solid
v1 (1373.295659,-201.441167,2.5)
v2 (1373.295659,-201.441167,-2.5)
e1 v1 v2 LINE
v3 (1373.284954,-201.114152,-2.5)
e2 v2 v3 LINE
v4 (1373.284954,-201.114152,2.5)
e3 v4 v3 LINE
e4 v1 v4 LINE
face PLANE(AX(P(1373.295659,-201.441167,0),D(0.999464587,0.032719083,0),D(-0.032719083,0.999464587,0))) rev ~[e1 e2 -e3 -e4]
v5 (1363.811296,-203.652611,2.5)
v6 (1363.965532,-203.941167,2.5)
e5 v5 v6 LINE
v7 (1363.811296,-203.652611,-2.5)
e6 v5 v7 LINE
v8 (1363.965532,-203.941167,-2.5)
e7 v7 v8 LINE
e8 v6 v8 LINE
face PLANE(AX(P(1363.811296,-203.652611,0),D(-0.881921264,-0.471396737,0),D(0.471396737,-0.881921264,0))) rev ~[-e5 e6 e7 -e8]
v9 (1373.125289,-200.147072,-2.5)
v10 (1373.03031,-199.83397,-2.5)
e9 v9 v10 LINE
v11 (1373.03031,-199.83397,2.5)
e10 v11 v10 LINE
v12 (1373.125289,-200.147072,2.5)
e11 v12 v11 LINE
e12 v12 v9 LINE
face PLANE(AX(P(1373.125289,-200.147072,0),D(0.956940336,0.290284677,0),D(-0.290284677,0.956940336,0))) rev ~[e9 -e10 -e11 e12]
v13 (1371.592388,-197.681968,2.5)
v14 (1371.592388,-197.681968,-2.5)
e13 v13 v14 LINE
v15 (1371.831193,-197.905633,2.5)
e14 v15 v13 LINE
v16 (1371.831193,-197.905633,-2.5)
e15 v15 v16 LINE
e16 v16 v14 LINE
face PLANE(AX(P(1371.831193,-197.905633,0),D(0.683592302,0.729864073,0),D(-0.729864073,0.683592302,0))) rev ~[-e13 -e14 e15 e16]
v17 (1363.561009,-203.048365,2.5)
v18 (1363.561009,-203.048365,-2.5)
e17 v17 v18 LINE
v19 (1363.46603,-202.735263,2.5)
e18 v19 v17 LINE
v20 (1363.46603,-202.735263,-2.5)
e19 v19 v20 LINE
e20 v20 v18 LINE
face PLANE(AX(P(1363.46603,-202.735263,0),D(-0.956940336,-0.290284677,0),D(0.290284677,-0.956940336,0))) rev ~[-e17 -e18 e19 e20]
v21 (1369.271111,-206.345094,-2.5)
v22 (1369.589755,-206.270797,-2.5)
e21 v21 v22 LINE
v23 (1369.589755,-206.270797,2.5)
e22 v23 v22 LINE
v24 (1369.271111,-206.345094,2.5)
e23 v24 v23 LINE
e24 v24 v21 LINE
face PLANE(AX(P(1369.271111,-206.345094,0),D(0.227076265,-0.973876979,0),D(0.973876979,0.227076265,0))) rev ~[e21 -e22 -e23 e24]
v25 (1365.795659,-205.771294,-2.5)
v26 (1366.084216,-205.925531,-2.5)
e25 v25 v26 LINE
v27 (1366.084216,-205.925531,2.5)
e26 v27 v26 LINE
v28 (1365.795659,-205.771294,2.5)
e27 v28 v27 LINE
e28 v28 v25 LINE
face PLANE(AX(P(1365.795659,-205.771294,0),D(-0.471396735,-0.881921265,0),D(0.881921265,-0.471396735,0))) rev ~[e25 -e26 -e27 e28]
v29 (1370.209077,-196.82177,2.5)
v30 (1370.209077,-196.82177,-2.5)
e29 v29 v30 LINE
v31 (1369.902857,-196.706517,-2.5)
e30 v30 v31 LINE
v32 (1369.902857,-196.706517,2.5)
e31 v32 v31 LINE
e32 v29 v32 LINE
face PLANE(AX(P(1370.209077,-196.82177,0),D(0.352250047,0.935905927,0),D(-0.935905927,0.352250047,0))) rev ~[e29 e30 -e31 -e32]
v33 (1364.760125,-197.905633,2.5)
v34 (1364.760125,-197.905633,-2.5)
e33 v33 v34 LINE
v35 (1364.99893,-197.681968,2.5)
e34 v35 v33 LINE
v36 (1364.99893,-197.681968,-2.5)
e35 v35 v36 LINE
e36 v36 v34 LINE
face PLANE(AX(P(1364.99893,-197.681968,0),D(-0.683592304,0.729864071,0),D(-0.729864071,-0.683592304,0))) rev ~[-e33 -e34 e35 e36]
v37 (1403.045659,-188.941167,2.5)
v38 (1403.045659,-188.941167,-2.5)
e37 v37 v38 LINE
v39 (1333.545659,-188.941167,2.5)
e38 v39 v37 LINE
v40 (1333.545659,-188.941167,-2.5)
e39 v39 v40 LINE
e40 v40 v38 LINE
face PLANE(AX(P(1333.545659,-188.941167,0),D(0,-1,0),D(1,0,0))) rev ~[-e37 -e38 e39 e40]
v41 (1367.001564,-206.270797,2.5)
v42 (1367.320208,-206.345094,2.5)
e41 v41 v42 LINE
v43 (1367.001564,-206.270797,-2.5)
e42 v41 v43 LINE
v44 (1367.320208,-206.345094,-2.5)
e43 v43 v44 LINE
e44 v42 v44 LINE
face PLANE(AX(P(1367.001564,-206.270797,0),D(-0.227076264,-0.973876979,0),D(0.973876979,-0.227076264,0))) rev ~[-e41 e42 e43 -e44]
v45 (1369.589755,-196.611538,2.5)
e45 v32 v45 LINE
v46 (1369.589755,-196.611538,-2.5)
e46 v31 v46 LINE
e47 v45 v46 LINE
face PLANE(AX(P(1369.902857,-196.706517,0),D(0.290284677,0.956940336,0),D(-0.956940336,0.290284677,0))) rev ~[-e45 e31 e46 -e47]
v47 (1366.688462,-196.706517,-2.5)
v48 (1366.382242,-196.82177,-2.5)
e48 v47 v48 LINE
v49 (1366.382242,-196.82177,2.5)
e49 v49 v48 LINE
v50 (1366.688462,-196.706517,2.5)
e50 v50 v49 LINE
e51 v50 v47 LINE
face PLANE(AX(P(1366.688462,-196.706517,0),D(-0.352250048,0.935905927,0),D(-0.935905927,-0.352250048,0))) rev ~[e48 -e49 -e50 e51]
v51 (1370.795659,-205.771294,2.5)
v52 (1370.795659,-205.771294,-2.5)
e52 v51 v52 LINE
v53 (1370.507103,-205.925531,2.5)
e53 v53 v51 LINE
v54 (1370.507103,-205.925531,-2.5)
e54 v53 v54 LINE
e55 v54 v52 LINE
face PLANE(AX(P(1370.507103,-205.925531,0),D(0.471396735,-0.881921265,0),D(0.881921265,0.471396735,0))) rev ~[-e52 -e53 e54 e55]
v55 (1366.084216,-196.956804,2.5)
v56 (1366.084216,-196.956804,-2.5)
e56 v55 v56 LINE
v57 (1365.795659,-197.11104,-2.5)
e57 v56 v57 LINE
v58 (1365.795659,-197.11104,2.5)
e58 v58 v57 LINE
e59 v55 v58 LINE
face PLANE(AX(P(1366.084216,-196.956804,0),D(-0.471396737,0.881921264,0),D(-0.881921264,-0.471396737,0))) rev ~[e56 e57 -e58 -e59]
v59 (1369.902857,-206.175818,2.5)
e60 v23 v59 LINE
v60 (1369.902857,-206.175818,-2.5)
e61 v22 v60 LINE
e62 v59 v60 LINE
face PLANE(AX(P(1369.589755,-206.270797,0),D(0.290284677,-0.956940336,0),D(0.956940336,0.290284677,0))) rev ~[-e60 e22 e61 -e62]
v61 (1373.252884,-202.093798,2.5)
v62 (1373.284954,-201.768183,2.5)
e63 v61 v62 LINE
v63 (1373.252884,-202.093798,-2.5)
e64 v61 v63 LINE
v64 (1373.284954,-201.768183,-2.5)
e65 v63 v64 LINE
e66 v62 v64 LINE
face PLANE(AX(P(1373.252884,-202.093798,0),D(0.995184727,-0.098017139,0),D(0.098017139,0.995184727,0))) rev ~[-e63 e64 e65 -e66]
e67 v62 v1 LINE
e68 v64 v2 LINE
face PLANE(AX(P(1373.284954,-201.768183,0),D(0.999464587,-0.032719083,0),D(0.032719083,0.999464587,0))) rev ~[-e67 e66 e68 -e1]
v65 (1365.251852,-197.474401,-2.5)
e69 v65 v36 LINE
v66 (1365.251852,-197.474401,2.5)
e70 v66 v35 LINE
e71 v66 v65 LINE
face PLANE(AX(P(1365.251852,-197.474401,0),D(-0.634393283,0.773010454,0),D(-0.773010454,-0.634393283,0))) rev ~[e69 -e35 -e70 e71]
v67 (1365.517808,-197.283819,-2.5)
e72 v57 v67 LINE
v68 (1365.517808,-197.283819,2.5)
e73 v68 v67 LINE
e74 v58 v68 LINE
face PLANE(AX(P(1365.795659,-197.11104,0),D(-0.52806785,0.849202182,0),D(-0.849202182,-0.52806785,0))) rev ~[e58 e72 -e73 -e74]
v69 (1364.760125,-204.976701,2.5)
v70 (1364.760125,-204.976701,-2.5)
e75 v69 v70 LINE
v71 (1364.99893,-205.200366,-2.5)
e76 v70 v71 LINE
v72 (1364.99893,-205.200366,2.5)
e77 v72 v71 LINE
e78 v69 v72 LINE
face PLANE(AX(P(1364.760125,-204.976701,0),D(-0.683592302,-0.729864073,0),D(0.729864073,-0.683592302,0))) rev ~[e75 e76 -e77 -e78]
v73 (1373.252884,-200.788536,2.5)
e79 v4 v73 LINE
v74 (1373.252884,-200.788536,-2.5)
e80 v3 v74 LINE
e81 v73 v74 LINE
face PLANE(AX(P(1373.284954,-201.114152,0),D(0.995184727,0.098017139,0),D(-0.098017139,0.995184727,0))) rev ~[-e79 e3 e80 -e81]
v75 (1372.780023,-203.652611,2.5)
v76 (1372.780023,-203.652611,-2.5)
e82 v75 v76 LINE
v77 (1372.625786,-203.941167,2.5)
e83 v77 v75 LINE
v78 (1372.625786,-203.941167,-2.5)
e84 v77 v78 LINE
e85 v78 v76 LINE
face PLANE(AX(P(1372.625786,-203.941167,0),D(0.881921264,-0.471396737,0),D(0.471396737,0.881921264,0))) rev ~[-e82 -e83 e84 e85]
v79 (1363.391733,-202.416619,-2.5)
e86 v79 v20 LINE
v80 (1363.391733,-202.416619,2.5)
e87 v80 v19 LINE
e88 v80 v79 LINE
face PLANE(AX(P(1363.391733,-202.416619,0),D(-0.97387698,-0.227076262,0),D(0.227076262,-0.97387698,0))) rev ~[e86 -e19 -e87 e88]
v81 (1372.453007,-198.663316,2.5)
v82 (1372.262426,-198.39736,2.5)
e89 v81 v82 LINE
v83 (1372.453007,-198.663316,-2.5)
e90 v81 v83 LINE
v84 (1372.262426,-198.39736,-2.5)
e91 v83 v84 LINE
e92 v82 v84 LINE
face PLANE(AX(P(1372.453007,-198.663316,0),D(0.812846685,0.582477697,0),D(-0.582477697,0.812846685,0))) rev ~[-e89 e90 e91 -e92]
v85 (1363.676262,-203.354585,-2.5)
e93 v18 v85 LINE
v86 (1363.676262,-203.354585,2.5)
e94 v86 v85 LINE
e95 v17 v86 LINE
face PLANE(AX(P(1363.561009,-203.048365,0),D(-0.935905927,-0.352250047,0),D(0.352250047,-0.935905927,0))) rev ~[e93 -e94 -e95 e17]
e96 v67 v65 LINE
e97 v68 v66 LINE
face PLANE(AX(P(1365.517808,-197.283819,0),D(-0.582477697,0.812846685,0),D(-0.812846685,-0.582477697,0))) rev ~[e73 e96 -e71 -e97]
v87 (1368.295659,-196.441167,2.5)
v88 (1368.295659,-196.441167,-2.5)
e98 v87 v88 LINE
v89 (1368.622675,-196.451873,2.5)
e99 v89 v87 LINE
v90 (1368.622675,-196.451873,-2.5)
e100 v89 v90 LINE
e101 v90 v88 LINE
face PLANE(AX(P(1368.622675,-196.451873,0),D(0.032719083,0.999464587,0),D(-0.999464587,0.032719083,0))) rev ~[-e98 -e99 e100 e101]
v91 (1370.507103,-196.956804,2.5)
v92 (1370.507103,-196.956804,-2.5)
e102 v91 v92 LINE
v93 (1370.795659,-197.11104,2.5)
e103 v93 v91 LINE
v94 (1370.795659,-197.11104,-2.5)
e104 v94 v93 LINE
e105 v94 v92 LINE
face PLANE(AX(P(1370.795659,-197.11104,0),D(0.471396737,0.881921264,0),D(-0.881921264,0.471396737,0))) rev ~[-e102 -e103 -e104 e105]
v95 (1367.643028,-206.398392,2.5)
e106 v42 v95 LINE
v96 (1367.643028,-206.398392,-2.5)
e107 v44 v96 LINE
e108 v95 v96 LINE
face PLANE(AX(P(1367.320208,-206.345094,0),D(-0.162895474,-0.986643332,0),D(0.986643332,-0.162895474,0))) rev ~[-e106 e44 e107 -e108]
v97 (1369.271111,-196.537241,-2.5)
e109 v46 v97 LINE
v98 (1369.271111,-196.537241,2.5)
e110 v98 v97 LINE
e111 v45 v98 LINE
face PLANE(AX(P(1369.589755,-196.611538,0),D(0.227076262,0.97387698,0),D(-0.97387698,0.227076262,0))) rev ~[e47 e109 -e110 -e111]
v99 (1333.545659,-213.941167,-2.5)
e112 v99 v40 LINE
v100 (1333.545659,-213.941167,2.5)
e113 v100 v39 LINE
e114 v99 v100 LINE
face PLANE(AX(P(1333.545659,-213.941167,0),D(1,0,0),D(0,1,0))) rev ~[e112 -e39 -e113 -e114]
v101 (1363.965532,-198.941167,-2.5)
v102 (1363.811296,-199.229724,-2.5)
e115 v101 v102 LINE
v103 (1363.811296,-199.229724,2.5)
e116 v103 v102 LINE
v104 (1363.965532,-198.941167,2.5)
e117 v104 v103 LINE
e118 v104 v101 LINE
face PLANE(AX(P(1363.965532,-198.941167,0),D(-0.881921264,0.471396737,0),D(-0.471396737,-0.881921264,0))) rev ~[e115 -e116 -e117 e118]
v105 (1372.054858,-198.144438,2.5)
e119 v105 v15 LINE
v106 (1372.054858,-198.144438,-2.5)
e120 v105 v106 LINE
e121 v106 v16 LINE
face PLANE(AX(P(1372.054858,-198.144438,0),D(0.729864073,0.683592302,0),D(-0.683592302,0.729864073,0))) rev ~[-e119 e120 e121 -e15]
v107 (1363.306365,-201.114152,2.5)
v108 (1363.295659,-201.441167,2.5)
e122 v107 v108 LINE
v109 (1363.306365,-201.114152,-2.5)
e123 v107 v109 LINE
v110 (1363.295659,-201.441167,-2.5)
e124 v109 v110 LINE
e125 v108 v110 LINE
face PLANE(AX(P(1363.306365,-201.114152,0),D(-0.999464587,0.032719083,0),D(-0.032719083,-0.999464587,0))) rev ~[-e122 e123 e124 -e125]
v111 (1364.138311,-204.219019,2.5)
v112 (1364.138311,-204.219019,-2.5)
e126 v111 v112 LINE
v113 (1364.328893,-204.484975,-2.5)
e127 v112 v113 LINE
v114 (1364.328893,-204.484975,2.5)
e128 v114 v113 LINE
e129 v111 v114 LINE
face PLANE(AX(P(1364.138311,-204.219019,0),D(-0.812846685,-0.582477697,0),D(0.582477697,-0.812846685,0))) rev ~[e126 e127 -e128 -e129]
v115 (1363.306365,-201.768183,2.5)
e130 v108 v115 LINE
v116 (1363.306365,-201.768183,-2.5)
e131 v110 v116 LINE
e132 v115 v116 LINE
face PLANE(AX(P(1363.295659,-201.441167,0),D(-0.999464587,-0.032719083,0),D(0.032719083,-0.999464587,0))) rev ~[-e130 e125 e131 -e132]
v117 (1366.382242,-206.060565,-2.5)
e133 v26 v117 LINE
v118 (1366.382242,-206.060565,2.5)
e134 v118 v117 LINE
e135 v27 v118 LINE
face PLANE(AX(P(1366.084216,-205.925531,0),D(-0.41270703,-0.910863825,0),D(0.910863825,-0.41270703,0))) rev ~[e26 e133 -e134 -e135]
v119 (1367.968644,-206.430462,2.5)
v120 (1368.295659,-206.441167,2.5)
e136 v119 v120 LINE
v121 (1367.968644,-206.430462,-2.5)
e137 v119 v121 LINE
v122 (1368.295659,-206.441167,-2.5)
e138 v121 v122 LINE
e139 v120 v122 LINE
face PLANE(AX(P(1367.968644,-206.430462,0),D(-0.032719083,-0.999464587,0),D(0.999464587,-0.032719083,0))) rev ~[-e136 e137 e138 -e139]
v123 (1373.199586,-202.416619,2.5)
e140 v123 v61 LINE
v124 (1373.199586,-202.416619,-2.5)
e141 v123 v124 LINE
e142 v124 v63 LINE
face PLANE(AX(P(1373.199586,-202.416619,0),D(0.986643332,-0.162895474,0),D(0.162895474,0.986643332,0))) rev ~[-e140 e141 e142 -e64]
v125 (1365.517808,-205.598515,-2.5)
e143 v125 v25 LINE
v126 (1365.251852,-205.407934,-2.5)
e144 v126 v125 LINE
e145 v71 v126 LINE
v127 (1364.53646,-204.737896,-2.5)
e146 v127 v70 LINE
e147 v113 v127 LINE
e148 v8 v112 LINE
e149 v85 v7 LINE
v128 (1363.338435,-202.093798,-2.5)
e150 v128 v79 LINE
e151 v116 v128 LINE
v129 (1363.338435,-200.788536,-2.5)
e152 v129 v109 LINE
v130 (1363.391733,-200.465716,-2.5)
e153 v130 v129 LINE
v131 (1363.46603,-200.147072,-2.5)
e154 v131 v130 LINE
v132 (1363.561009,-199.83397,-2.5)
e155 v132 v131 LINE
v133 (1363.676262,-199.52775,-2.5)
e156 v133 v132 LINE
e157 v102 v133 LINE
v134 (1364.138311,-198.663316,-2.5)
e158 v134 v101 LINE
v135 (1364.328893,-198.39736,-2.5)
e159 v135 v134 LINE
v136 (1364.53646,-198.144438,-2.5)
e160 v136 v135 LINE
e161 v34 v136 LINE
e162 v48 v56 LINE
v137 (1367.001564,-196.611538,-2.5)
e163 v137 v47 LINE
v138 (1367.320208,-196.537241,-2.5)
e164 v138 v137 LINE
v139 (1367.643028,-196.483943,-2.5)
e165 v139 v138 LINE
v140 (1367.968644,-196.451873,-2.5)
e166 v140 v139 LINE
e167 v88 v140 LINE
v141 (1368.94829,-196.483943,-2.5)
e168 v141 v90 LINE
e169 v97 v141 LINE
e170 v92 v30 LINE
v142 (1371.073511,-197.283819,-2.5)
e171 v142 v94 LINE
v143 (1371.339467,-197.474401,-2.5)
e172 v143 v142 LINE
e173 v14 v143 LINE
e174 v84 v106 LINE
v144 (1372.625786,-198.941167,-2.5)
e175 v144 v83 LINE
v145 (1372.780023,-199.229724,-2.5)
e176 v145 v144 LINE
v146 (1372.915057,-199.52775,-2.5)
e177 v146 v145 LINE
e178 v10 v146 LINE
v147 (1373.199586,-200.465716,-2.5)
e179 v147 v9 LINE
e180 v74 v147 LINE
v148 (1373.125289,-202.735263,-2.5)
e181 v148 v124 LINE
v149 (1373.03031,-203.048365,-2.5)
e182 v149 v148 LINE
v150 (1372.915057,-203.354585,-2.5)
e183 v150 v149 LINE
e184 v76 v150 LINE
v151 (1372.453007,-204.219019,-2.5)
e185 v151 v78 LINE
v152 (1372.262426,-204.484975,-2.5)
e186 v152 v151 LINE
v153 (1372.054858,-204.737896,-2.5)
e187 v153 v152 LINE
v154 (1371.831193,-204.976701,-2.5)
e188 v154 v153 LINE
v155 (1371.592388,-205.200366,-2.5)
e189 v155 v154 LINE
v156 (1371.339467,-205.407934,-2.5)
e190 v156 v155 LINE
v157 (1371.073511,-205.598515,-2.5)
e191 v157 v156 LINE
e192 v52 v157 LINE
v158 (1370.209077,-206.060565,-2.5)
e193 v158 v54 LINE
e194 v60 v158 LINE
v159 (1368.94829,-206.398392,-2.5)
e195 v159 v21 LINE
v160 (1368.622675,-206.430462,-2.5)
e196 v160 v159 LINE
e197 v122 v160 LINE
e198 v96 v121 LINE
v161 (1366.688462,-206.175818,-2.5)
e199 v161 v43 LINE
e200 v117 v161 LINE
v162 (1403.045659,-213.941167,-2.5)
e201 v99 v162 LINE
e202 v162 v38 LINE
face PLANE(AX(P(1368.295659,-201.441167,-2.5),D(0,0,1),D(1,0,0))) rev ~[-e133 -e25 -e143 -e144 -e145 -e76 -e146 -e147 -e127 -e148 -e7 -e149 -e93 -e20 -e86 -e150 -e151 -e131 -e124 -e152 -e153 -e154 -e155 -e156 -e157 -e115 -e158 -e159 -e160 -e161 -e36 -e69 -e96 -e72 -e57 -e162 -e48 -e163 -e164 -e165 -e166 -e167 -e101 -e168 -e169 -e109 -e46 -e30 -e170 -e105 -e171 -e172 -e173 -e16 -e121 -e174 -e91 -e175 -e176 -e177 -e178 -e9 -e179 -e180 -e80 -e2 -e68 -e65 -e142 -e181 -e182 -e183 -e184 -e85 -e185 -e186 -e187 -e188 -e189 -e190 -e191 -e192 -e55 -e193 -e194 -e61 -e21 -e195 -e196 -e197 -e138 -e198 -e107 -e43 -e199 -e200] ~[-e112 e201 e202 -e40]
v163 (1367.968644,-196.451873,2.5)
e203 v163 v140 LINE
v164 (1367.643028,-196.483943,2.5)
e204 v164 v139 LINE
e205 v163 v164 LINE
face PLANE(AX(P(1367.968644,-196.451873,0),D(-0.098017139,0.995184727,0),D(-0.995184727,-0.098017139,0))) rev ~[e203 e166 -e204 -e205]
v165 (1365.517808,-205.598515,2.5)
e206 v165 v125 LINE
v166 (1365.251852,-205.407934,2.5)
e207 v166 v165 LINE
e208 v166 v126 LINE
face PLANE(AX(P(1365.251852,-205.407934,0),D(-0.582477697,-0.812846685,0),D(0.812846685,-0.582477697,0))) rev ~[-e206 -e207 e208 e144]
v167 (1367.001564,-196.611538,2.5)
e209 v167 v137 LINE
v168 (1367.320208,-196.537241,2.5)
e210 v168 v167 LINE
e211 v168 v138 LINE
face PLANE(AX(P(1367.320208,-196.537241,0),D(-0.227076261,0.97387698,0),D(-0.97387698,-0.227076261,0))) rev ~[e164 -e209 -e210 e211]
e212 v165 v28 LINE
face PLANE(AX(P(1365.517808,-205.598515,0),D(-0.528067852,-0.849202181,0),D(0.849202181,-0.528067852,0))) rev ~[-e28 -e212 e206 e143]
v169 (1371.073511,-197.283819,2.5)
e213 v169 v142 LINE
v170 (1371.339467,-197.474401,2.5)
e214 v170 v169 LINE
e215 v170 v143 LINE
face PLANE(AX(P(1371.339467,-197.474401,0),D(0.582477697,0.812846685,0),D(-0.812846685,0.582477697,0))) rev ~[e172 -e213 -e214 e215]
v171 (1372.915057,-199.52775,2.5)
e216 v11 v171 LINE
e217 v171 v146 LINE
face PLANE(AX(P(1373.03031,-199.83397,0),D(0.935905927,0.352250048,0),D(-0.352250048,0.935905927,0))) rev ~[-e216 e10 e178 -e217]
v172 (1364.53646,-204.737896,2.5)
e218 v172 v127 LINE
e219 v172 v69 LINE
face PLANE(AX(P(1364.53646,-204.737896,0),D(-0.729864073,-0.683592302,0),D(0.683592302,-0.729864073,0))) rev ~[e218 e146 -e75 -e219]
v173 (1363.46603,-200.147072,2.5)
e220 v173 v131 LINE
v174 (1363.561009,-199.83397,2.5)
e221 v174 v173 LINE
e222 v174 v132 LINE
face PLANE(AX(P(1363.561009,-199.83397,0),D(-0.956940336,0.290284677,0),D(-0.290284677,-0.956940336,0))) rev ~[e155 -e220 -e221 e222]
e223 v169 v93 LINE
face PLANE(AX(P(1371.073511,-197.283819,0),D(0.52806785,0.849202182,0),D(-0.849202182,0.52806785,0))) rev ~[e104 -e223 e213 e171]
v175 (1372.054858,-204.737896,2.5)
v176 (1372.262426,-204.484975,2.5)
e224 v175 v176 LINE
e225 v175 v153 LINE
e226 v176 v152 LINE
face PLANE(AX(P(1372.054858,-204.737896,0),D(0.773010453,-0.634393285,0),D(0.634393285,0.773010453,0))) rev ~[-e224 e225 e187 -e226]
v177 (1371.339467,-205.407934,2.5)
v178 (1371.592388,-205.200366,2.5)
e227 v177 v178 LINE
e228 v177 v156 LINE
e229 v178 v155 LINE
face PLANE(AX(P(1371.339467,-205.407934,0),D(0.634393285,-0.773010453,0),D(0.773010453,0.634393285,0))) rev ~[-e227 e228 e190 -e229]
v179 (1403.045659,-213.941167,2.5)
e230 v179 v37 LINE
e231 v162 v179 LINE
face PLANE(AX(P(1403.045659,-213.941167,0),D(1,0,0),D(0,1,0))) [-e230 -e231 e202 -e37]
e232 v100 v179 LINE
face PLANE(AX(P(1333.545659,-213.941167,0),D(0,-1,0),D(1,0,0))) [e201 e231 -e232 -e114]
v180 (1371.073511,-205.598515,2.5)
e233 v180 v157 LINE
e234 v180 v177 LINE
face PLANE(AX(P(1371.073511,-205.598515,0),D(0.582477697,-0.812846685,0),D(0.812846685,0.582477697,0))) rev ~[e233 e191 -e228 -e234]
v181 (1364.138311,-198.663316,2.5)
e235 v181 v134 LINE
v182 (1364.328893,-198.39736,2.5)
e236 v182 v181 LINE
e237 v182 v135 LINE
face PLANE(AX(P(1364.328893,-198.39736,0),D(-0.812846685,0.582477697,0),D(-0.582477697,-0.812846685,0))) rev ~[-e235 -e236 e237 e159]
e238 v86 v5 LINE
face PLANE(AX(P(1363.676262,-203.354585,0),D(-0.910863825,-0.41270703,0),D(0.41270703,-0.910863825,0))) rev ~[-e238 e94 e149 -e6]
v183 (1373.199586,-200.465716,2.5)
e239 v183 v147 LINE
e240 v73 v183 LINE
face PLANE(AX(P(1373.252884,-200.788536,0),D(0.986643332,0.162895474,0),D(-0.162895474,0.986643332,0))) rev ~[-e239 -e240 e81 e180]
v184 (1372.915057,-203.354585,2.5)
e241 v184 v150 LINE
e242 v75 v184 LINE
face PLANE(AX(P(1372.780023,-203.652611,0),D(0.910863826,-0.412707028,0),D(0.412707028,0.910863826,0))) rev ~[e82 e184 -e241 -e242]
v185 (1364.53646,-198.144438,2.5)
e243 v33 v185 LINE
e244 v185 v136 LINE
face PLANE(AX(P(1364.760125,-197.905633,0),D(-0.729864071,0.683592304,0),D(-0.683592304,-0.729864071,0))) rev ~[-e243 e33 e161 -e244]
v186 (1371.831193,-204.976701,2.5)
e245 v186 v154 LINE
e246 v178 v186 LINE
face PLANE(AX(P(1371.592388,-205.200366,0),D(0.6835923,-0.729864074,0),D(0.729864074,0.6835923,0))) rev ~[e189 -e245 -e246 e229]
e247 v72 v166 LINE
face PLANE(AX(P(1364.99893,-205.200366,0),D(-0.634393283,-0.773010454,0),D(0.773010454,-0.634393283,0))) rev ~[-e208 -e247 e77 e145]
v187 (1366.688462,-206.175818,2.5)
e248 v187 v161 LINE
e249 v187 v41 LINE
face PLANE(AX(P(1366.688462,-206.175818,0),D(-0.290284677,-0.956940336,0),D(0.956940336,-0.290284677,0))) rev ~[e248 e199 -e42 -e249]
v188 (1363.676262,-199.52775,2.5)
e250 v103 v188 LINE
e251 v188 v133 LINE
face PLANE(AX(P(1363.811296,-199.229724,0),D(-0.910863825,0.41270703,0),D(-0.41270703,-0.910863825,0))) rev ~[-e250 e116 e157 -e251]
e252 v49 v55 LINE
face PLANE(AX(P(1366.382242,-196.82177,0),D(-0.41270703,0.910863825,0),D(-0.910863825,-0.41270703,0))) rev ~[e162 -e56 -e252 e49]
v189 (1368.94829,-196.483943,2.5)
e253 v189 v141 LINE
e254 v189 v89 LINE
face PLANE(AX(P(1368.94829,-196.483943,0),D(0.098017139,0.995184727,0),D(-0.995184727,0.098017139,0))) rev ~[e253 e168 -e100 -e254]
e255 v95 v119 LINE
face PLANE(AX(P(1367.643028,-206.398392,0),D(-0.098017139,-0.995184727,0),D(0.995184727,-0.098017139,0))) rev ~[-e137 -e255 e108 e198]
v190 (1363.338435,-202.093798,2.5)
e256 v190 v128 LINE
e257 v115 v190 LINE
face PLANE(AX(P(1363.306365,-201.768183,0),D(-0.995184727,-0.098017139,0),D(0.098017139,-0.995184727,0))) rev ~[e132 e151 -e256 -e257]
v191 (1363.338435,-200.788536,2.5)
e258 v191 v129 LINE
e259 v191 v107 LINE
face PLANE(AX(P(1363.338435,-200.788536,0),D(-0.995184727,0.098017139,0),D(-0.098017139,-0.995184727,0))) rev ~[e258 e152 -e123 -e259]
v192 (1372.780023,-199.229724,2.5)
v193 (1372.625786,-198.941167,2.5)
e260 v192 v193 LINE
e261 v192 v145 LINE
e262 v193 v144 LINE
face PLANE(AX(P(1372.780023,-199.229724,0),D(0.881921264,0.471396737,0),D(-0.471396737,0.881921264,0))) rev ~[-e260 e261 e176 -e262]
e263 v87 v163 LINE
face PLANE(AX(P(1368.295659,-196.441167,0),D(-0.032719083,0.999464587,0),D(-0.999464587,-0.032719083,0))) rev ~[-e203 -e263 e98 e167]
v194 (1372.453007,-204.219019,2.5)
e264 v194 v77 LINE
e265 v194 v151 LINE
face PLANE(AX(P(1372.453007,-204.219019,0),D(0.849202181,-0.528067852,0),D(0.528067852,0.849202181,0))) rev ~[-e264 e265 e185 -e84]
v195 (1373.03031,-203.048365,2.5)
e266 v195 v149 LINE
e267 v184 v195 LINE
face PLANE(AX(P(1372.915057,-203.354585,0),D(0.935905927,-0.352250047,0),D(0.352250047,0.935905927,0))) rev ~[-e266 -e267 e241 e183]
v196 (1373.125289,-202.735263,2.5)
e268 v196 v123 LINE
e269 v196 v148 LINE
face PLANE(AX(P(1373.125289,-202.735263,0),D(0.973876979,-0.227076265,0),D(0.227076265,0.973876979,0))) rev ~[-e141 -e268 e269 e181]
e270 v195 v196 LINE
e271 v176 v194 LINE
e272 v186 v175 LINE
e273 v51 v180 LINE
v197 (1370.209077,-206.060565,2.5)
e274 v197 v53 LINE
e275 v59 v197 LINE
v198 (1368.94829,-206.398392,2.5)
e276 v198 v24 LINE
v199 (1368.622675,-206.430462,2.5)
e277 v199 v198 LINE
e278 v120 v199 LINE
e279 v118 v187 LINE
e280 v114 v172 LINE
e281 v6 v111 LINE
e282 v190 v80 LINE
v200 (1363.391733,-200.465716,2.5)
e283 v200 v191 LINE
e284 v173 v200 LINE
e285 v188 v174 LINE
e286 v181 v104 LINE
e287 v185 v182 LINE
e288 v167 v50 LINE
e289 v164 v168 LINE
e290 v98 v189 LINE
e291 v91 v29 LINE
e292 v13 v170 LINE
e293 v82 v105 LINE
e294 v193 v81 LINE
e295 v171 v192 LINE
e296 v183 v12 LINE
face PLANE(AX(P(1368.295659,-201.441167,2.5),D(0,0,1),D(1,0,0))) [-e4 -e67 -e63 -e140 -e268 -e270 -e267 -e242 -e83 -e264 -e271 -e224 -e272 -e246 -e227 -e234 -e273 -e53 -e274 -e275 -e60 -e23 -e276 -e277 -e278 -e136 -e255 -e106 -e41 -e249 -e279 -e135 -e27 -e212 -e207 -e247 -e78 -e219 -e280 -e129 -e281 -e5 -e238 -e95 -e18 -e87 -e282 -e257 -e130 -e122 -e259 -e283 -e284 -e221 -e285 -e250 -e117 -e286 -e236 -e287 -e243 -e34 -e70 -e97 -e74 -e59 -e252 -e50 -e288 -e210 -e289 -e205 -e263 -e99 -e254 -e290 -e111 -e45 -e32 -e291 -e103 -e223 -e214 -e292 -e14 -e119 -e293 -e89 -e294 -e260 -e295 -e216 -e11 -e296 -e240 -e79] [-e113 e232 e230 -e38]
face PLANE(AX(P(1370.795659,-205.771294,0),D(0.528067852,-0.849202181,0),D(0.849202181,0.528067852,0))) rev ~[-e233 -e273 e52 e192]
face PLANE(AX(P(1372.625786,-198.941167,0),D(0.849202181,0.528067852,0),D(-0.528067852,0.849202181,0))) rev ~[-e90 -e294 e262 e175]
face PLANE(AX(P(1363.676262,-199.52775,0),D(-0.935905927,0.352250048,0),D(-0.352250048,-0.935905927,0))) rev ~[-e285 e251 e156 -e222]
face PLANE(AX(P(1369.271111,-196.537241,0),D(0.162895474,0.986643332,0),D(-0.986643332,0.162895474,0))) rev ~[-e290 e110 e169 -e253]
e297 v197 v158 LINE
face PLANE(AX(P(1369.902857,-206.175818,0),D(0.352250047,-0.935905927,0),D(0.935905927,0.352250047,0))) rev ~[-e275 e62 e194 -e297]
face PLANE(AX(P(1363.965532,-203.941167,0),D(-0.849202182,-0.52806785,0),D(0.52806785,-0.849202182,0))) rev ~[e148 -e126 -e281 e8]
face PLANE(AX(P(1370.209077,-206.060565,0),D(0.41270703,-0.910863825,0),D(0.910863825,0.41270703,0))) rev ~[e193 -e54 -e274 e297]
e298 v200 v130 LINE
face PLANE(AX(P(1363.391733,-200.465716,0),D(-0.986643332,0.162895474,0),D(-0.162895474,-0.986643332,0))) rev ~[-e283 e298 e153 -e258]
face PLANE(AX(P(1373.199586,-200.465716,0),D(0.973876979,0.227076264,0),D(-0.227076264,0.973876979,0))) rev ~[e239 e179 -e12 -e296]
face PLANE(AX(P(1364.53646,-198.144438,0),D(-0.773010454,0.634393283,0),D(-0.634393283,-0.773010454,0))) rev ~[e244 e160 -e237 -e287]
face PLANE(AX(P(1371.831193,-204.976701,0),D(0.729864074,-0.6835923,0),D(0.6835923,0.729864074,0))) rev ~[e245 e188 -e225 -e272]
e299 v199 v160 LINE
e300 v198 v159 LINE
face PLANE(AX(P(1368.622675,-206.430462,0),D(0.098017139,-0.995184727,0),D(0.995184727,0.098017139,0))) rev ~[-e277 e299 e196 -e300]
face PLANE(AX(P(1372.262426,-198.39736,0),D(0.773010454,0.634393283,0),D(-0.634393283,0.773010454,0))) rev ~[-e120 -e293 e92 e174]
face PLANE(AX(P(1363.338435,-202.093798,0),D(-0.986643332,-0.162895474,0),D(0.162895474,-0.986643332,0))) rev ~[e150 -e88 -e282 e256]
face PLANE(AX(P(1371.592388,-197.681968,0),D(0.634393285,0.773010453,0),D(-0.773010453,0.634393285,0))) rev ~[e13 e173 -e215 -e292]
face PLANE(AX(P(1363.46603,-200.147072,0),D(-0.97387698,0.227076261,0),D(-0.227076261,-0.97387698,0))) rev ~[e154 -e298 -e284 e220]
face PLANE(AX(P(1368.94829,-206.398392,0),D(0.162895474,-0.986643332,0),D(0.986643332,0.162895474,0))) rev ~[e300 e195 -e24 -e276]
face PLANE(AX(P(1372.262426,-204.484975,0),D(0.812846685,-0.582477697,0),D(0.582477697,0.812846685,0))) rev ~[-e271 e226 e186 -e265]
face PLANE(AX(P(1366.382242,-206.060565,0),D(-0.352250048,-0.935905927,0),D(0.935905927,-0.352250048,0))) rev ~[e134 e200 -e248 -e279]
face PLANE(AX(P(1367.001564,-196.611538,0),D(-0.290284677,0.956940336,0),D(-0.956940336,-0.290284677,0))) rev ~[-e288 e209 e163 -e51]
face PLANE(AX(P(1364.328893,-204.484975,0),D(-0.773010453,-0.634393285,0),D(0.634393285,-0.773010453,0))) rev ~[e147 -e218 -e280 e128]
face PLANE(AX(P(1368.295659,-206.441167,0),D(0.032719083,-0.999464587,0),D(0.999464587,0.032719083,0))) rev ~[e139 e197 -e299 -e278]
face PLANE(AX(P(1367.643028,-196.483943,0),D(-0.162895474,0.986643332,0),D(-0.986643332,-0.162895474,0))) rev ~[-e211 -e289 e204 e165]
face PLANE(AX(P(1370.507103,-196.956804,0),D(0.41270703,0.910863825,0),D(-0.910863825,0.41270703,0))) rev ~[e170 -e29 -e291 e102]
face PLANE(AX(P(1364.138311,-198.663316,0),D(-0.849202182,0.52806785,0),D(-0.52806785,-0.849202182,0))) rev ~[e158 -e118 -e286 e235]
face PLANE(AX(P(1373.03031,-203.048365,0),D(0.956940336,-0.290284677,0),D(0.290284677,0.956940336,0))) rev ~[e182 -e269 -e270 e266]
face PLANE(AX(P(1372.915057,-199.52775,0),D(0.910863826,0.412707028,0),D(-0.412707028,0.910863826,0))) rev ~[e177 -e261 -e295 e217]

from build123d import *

# Parameters (mm, degrees)
SKETCH1_W           = 69.5
SKETCH1_H           = 25
BOSS_EXTRUDE1_DEPTH = 2.5


with BuildPart() as part:
    # Sketch1 → Boss-Extrude1 (new, symmetric)
    with BuildSketch(Plane.XY):
        with Locations((1368.295659386, -201.441167375)):
            Rectangle(SKETCH1_W, SKETCH1_H)
        Polygon((1370.795659386, -197.111040356), (1370.507102837, -196.956803667), (1370.209076548, -196.821769712), (1369.902856712, -196.706516727), (1369.589754611, -196.611538243), (1369.271110996, -196.537240973), (1368.948290347, -196.483943068), (1368.622675032, -196.451872759), (1368.295659386, -196.441167375), (1367.96864374, -196.451872759), (1367.643028425, -196.483943068), (1367.320207776, -196.537240973), (1367.00156416, -196.611538243), (1366.688462059, -196.706516727), (1366.382242224, -196.821769712), (1366.084215935, -196.956803667), (1365.795659386, -197.111040356), (1365.517808221, -197.283819313), (1365.251852241, -197.474400673), (1364.99893031, -197.681968337), (1364.76012548, -197.905633469), (1364.536460348, -198.144438299), (1364.328892684, -198.39736023), (1364.138311324, -198.66331621), (1363.965532367, -198.941167375), (1363.811295678, -199.229723924), (1363.676261723, -199.527750213), (1363.561008738, -199.833970048), (1363.466030254, -200.147072149), (1363.391732984, -200.465715765), (1363.338435079, -200.788536414), (1363.30636477, -201.114151729), (1363.295659386, -201.441167375), (1363.30636477, -201.768183021), (1363.338435079, -202.093798336), (1363.391732984, -202.416618985), (1363.466030254, -202.7352626), (1363.561008738, -203.048364701), (1363.676261723, -203.354584537), (1363.811295678, -203.652610826), (1363.965532367, -203.941167375), (1364.138311324, -204.21901854), (1364.328892684, -204.48497452), (1364.536460348, -204.73789645), (1364.76012548, -204.976701281), (1364.99893031, -205.200366412), (1365.251852241, -205.407934076), (1365.517808221, -205.598515436), (1365.795659386, -205.771294394), (1366.084215935, -205.925531082), (1366.382242224, -206.060565037), (1366.688462059, -206.175818022), (1367.00156416, -206.270796506), (1367.320207776, -206.345093777), (1367.643028425, -206.398391682), (1367.96864374, -206.430461991), (1368.295659386, -206.441167375), (1368.622675032, -206.430461991), (1368.948290347, -206.398391682), (1369.271110996, -206.345093777), (1369.589754611, -206.270796506), (1369.902856712, -206.175818022), (1370.209076548, -206.060565037), (1370.507102837, -205.925531082), (1370.795659386, -205.771294394), (1371.073510551, -205.598515436), (1371.339466531, -205.407934076), (1371.592388461, -205.200366412), (1371.831193292, -204.976701281), (1372.054858423, -204.73789645), (1372.262426087, -204.48497452), (1372.453007447, -204.21901854), (1372.625786405, -203.941167375), (1372.780023094, -203.652610826), (1372.915057048, -203.354584537), (1373.030310033, -203.048364701), (1373.125288517, -202.7352626), (1373.199585788, -202.416618985), (1373.252883693, -202.093798336), (1373.284954002, -201.768183021), (1373.295659386, -201.441167375), (1373.284954002, -201.114151729), (1373.252883693, -200.788536414), (1373.199585788, -200.465715765), (1373.125288517, -200.147072149), (1373.030310033, -199.833970048), (1372.915057048, -199.527750213), (1372.780023094, -199.229723924), (1372.625786405, -198.941167375), (1372.453007447, -198.66331621), (1372.262426087, -198.39736023), (1372.054858423, -198.144438299), (1371.831193292, -197.905633469), (1371.592388461, -197.681968337), (1371.339466531, -197.474400673), (1371.073510551, -197.283819313), align=None, mode=Mode.SUBTRACT)
    extrude(amount=BOSS_EXTRUDE1_DEPTH, both=True)


solid = part.part
